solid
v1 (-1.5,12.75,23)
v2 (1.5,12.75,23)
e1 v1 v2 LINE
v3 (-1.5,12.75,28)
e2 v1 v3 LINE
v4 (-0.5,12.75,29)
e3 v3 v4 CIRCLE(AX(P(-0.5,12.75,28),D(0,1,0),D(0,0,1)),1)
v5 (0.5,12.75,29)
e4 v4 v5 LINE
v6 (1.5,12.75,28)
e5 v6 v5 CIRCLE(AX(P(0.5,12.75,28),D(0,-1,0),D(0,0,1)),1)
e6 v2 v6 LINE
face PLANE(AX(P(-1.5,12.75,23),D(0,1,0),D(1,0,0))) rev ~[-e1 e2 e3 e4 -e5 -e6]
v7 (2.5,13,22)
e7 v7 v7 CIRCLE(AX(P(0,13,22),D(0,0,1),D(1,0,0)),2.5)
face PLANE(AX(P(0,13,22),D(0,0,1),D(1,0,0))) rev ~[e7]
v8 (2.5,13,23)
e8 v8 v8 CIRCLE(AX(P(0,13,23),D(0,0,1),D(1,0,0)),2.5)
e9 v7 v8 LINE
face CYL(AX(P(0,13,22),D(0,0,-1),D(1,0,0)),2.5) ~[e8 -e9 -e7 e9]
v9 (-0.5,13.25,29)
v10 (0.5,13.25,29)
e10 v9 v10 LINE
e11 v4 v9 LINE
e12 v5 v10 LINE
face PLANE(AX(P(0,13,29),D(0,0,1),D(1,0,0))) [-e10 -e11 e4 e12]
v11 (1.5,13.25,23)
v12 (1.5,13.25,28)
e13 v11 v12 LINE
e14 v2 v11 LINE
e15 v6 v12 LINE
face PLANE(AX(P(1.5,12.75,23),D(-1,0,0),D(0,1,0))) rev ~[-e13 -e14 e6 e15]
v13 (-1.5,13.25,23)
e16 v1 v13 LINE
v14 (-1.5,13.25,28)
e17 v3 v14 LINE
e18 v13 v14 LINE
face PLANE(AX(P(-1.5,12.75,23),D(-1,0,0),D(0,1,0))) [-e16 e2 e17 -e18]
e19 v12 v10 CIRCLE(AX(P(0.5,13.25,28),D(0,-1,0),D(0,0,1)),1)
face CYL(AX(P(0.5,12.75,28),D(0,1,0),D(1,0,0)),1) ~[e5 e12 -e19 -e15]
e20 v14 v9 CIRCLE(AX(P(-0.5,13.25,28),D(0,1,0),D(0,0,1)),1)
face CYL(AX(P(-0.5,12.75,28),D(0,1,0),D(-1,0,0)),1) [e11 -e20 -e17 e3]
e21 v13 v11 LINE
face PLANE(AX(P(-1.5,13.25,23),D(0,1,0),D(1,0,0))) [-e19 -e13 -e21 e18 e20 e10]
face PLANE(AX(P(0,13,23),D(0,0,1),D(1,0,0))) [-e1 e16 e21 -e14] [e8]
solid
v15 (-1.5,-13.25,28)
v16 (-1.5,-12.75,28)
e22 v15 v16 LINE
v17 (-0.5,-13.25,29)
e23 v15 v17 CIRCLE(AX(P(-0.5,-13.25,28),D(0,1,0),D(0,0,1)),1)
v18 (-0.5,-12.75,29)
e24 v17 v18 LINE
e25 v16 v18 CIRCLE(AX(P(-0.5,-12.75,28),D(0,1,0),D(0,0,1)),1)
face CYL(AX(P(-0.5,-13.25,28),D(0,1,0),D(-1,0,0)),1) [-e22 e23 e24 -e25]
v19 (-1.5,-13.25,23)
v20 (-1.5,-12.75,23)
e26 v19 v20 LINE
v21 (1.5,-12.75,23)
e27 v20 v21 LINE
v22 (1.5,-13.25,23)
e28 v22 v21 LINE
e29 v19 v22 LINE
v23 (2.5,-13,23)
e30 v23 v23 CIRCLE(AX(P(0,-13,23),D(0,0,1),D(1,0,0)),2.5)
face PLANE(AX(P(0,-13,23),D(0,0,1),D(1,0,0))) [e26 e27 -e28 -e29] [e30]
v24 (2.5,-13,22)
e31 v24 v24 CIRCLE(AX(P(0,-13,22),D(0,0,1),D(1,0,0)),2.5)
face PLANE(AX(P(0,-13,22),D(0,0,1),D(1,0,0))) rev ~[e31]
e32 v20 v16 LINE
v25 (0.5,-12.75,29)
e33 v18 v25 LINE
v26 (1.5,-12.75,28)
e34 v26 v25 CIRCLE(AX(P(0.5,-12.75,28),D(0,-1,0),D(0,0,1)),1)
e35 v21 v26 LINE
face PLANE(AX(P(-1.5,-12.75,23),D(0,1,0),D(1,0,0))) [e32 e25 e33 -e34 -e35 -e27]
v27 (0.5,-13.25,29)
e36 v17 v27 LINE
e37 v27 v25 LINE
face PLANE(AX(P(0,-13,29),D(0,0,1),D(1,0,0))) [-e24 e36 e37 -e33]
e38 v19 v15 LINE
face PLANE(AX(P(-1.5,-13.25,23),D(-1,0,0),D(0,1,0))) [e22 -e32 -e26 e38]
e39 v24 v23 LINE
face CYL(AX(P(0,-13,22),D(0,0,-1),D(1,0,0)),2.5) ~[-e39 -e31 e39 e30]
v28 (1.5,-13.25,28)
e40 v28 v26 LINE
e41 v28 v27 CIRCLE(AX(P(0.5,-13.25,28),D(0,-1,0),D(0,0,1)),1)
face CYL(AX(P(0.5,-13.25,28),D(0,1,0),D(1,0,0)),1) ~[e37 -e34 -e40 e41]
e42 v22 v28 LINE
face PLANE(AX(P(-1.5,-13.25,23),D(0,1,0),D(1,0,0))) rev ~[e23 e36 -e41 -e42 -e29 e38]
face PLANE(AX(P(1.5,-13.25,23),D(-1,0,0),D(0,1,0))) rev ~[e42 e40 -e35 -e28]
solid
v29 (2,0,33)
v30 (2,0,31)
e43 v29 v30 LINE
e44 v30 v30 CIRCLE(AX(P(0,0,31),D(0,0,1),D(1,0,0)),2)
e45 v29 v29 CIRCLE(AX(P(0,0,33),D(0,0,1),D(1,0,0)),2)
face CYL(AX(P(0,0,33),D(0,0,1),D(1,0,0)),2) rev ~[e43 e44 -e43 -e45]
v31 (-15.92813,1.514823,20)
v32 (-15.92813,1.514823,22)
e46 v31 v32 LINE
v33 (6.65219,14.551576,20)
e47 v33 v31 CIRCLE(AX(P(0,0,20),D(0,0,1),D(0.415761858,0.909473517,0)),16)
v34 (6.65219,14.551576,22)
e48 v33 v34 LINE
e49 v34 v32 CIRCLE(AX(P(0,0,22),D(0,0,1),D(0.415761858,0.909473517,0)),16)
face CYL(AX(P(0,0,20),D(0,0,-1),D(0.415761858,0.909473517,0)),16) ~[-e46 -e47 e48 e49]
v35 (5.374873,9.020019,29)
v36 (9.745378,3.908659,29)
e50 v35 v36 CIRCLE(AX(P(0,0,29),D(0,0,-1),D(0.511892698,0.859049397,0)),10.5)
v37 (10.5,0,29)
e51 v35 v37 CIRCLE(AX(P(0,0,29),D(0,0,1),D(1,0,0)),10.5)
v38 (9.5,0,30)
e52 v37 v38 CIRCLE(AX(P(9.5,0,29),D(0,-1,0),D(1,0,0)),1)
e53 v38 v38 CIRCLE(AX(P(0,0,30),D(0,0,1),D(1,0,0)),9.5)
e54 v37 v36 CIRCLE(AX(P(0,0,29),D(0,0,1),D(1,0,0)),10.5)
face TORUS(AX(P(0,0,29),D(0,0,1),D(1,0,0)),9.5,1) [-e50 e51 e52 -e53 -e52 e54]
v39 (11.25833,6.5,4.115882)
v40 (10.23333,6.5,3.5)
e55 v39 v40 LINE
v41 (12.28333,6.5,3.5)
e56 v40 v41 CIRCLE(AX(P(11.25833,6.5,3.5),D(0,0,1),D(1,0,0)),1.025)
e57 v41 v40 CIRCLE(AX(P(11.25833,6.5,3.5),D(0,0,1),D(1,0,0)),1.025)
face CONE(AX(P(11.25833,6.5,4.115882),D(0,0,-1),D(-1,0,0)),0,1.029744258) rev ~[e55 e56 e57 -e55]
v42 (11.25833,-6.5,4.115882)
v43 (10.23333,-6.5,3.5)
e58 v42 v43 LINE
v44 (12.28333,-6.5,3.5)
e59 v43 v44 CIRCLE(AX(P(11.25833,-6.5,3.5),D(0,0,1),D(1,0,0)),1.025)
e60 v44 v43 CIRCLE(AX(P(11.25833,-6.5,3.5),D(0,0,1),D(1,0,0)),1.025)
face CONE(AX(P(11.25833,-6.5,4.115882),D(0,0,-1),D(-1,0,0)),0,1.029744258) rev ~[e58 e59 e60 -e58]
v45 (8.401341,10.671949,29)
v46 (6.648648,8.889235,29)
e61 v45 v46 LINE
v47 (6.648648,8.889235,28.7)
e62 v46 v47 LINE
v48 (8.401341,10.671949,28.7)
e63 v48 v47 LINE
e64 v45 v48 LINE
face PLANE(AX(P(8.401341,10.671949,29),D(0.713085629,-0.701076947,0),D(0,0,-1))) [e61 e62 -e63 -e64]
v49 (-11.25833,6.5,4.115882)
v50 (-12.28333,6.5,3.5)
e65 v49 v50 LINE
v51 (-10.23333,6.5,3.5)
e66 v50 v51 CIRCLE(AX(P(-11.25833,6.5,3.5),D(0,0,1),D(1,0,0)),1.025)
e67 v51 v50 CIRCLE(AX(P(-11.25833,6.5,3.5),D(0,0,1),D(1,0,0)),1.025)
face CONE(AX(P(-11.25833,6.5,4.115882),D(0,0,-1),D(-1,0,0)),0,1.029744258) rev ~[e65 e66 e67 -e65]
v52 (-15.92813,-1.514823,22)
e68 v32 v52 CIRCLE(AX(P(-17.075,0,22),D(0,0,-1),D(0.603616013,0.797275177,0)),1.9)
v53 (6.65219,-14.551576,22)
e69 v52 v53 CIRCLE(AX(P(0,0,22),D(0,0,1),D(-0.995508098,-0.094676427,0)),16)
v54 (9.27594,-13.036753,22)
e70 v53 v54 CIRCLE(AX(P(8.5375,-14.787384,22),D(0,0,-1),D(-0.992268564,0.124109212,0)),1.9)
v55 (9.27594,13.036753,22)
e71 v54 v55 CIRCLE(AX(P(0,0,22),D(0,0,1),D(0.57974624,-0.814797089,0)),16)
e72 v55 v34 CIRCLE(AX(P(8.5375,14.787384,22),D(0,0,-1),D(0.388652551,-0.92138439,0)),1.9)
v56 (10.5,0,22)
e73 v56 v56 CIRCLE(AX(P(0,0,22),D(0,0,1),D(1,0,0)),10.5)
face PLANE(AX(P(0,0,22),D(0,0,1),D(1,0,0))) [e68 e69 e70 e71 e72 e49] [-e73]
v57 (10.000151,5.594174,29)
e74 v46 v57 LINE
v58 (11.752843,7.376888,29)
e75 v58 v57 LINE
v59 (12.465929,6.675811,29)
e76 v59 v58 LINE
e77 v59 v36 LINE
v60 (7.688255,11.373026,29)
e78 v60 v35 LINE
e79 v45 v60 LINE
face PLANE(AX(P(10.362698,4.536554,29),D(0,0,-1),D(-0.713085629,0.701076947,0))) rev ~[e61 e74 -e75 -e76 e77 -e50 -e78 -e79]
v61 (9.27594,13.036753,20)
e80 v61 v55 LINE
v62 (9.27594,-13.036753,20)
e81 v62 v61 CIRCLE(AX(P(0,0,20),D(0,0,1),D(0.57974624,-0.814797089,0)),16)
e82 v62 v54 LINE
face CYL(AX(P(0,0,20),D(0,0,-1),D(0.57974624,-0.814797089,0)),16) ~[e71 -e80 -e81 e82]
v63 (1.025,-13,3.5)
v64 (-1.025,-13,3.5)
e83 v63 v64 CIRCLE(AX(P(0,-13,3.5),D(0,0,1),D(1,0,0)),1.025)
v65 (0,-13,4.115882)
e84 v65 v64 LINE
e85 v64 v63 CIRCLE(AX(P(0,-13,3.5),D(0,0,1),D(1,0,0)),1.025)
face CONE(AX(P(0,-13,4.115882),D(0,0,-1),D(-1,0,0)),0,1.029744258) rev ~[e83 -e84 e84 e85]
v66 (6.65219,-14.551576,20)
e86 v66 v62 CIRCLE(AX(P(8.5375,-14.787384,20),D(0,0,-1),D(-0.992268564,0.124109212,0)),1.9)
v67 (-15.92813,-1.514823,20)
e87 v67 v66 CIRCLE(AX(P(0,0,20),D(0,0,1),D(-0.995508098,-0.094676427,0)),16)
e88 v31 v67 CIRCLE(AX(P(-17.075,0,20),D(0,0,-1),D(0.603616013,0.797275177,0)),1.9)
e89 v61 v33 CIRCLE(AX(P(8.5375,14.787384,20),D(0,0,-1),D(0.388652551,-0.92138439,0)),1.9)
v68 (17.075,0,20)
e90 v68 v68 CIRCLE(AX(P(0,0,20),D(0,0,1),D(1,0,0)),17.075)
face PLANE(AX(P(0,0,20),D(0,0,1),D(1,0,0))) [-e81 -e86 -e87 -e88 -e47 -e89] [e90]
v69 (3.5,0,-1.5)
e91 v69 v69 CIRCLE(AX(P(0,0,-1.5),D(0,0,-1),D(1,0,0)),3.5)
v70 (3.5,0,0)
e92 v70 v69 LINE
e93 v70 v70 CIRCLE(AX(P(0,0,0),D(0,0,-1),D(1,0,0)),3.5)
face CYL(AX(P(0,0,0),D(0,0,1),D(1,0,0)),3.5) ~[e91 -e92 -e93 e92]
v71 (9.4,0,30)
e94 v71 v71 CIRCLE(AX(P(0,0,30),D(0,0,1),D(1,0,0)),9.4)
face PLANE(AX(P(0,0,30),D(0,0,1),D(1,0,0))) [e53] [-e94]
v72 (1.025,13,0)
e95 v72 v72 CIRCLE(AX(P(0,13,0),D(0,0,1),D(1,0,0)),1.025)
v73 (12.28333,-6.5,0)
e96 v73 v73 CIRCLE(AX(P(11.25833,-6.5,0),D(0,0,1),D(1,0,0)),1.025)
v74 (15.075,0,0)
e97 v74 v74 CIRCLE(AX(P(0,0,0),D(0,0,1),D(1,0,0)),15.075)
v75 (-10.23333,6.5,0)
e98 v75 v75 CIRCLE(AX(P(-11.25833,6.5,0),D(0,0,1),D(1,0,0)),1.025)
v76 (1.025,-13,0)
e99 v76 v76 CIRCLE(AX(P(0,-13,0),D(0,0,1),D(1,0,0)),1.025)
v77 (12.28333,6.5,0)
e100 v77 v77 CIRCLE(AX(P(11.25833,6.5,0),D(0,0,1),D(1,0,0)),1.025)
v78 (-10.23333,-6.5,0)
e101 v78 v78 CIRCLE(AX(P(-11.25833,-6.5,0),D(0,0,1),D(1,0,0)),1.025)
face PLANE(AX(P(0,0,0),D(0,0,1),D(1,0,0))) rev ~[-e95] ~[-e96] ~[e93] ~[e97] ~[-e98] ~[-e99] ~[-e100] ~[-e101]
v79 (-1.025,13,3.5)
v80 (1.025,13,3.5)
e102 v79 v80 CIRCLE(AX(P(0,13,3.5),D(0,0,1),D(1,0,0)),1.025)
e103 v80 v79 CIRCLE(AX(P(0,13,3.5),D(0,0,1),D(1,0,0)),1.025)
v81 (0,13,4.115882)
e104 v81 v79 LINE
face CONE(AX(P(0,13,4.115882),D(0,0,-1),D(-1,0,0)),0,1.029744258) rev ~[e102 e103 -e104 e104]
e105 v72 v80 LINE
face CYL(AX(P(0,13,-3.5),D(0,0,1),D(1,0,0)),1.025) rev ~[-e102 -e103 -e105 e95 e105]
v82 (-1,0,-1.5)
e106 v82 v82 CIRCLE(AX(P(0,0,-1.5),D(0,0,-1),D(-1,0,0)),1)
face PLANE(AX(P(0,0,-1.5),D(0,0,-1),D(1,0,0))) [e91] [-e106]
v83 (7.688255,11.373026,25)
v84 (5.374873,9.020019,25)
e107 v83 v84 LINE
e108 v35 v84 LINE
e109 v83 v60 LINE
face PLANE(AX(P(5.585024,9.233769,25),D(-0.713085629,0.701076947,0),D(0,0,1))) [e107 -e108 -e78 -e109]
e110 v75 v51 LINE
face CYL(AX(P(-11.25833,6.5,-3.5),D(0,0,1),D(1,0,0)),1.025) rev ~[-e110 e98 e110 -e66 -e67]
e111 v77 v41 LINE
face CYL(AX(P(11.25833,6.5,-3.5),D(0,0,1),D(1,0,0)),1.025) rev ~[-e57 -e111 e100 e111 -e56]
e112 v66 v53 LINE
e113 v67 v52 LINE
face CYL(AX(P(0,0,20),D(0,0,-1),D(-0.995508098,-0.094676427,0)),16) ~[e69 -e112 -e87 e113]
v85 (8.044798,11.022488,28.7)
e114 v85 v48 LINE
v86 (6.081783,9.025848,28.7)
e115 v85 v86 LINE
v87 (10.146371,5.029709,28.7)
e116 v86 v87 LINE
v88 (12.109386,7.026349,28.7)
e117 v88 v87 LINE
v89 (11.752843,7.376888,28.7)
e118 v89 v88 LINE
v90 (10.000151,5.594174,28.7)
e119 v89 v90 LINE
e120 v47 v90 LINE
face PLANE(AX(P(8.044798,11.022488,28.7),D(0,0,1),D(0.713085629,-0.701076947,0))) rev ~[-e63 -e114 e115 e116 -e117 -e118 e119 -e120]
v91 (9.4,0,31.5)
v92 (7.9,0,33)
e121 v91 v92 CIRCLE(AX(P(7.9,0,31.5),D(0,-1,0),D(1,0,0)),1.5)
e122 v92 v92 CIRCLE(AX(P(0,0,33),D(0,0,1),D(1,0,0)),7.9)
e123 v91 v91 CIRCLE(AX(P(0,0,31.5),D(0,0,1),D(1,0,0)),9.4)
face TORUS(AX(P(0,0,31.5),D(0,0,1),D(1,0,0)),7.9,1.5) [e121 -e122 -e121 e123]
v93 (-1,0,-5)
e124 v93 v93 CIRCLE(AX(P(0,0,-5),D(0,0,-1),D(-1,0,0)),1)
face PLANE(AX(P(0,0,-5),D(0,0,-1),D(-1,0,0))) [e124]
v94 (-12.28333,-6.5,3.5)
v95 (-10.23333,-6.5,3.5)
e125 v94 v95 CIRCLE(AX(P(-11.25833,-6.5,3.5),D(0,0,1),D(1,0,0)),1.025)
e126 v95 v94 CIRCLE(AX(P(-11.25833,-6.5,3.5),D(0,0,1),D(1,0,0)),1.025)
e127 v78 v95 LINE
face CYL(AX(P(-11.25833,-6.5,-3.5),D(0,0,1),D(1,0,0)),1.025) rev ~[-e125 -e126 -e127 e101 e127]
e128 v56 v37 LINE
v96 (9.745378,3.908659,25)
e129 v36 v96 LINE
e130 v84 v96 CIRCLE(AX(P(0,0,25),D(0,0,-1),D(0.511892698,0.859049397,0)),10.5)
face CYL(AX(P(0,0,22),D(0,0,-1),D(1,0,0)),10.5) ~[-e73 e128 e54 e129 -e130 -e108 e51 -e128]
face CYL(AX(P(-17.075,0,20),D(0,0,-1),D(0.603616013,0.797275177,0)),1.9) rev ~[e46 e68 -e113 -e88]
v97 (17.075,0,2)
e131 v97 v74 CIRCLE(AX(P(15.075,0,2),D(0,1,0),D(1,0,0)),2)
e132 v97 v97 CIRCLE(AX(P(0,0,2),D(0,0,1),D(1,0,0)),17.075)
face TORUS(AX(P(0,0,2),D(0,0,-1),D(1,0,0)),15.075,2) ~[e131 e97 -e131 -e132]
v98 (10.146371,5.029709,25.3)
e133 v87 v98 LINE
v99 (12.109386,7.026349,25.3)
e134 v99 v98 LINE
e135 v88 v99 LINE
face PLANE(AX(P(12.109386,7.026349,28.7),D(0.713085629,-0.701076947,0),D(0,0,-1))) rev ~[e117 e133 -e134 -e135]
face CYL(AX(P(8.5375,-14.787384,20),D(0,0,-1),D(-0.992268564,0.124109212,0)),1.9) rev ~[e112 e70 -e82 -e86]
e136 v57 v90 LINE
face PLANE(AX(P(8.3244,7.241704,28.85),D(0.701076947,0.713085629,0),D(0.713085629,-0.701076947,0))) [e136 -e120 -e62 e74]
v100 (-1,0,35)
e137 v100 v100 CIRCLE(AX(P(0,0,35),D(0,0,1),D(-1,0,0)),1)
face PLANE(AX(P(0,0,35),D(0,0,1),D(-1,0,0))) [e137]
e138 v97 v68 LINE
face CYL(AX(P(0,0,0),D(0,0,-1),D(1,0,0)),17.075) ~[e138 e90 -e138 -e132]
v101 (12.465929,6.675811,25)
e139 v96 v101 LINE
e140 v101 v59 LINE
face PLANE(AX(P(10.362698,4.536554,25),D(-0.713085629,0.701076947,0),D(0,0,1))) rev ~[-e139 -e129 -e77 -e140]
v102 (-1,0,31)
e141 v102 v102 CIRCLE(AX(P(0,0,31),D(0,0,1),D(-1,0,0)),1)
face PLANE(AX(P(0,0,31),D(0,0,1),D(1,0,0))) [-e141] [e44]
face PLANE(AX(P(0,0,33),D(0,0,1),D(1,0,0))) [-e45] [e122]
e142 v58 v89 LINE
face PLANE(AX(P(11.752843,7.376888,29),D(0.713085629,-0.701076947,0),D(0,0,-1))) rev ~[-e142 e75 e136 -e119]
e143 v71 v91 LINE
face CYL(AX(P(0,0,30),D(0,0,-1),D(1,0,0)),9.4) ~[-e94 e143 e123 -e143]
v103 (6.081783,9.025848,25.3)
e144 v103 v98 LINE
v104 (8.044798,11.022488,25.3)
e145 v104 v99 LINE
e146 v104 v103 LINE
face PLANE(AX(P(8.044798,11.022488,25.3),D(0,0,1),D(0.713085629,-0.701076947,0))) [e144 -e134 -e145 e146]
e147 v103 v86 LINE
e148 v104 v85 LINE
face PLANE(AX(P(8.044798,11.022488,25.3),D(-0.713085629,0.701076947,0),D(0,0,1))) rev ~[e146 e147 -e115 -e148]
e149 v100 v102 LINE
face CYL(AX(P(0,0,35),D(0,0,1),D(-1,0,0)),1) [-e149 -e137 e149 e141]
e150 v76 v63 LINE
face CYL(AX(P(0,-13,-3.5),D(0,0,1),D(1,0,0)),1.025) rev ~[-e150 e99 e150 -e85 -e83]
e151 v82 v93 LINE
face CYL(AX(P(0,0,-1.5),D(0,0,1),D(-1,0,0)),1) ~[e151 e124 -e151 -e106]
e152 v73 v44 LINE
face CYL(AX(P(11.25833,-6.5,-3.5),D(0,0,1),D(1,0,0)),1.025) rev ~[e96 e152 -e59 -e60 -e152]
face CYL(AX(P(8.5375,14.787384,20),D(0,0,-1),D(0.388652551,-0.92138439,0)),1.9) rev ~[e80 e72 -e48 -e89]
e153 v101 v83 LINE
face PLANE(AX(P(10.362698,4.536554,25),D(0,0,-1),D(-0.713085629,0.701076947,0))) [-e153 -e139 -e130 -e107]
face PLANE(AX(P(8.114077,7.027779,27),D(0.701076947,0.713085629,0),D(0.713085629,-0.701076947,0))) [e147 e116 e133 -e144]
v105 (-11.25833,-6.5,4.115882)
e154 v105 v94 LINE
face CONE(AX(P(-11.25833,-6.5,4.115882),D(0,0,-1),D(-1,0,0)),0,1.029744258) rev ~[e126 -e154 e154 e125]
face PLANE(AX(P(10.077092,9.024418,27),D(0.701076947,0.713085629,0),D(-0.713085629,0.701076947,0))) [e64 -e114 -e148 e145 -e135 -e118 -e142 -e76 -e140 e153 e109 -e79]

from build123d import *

# Parameters (mm, degrees)
ESBO_O1_R                                  = 17.075
RESSALTO_EXTRUS_O1_DEPTH                   = 20
ESBO_O4_R                                  = 3.5
RESSALTO_EXTRUS_O4_DEPTH                   = 1.5
ESBO_O14_R                                 = 1
RESSALTO_EXTRUS_O7_DEPTH                   = 3.5
FURO_ROSCADO_DE_M2_5X0_451_D               = 2.05
FURO_ROSCADO_DE_M2_5X0_451_DEPTH           = 3.5
FURO_ROSCADO_DE_M2_5X0_451_TIP             = 0.615882135
FILETE1_R                                  = 2
RESSALTO_EXTRUS_O9_DEPTH                   = 2
ESBO_O18_R                                 = 10.5
RESSALTO_EXTRUS_O10_DEPTH                  = 8
FILETE2_R                                  = 1
ESBO_O19_R                                 = 9.4
RESSALTO_EXTRUS_O11_DEPTH                  = 3
FILETE3_R                                  = 1.5
ESBO_O20_R                                 = 2
CORTE_EXTRUS_O1_DEPTH                      = 2
RESSALTO_EXTRUS_O13_START                  = 4
ESBO_O21_R                                 = 1
RESSALTO_EXTRUS_O13_DEPTH                  = 4
ESBO_O22_R                                 = 2.5
RESSALTO_EXTRUS_O15_DEPTH                  = 1
RESSALTO_EXTRUS_O15_2_DEPTH                = 1
ESBO_O23_W                                 = 3
ESBO_O23_H                                 = 0.5
RESSALTO_EXTRUS_O16_DEPTH                  = 6
FILETE4_R                                  = 1
FILETE5_R                                  = 1
ESBO_O24_W                                 = 6.7
ESBO_O24_H                                 = 4
RESSALTO_EXTRUS_O17_DEPTH                  = 3
RESSALTO_EXTRUS_O17_DIRECTION_2_REACH      = 51.249
RESSALTO_EXTRUS_O17_DIRECTION_2_END_RADIUS = 10.5
ESBO_O25_W                                 = 5.7
ESBO_O25_H                                 = 3
ESBO_O25_H_2                               = 0.2
CORTE_EXTRUS_O2_DEPTH                      = 2.8
ESBO_O26_W                                 = 4.7
ESBO_O26_H                                 = 0.3
CORTE_EXTRUS_O3_DEPTH                      = 2.5


with BuildPart() as part:
    # Esboço1 → Ressalto-extrusão1 (new body)
    with BuildSketch(Plane.XY):
        Circle(ESBO_O1_R)
    extrude(amount=RESSALTO_EXTRUS_O1_DEPTH)

    # Esboço4 → Ressalto-extrusão4 (add)
    with BuildSketch(Plane(origin=(0, 0, 0), x_dir=(-1, 0, 0), z_dir=(0, 0, -1))):
        with Locations(Location((0, 0, 0), (0, 0, 180))):
            Circle(ESBO_O4_R)
    extrude(amount=RESSALTO_EXTRUS_O4_DEPTH)

    # Esboço14 → Ressalto-extrusão7 (add)
    with BuildSketch(Plane(origin=(0, 0, -1.5), x_dir=(-1, 0, 0), z_dir=(0, 0, -1))):
        Circle(ESBO_O14_R)
    extrude(amount=RESSALTO_EXTRUS_O7_DEPTH)

    # Furo roscado de M2.5x0.451
    with Locations(Plane(origin=(0, 0, 0), x_dir=(-1, 0, 0), z_dir=(0, 0, -1))):
        with Locations((11.258330249, -6.5), (0, 13), (-11.258330249, -6.5), (11.258330249, 6.5), (0, -13), (-11.258330249, 6.5)):
            Hole(FURO_ROSCADO_DE_M2_5X0_451_D / 2, depth=FURO_ROSCADO_DE_M2_5X0_451_DEPTH)
            with Locations((0, 0, -(FURO_ROSCADO_DE_M2_5X0_451_DEPTH + FURO_ROSCADO_DE_M2_5X0_451_TIP / 2))):  # 118° drill point
                Cone(0, FURO_ROSCADO_DE_M2_5X0_451_D / 2, FURO_ROSCADO_DE_M2_5X0_451_TIP, mode=Mode.SUBTRACT)

    # Filete1
    filete1_edges = [part.edges().sort_by_distance(p)[0] for p in [
        (-17.075, 0, 0),
    ]]
    fillet(filete1_edges, radius=FILETE1_R)

    # Esboço17 → Ressalto-extrusão9 (add)
    with BuildSketch(Plane.XY.offset(20)):
        with BuildLine():
            ThreePointArc((6.652189728, -14.551576266), (7.5875, -13.141935502), (9.275939847, -13.036753428))
            ThreePointArc((9.275939847, -13.036753428), (16, 0), (9.275939847, 13.036753428))
            ThreePointArc((9.275939847, 13.036753428), (7.5875, 13.141935502), (6.652189728, 14.551576266))
            ThreePointArc((6.652189728, 14.551576266), (-8, 13.856406461), (-15.928129575, 1.514822838))
            ThreePointArc((-15.928129575, 1.514822838), (-15.175, 0), (-15.928129575, -1.514822838))
            ThreePointArc((-15.928129575, -1.514822838), (-8, -13.856406461), (6.652189728, -14.551576266))
        make_face()
    extrude(amount=RESSALTO_EXTRUS_O9_DEPTH)

    # Esboço18 → Ressalto-extrusão10 (add)
    with BuildSketch(Plane.XY.offset(22)):
        Circle(ESBO_O18_R)
    extrude(amount=RESSALTO_EXTRUS_O10_DEPTH)

    # Filete2
    filete2_edges = [part.edges().sort_by_distance(p)[0] for p in [
        (-10.5, 0, 30),
    ]]
    fillet(filete2_edges, radius=FILETE2_R)

    # Esboço19 → Ressalto-extrusão11 (add)
    with BuildSketch(Plane.XY.offset(30)):
        Circle(ESBO_O19_R)
    extrude(amount=RESSALTO_EXTRUS_O11_DEPTH)

    # Filete3
    filete3_edges = [part.edges().sort_by_distance(p)[0] for p in [
        (-9.4, 0, 33),
    ]]
    fillet(filete3_edges, radius=FILETE3_R)

    # Esboço20 → Corte-extrusão1 (cut)
    with BuildSketch(Plane.XY.offset(33)):
        Circle(ESBO_O20_R)
    extrude(amount=-CORTE_EXTRUS_O1_DEPTH, mode=Mode.SUBTRACT)

    # Esboço21 → Ressalto-extrusão13 (add)
    with BuildSketch(Plane.XY.offset(31).offset(RESSALTO_EXTRUS_O13_START)):
        with Locations(Location((0, 0, 0), (0, 0, 180))):
            Circle(ESBO_O21_R)
    extrude(amount=-RESSALTO_EXTRUS_O13_DEPTH)

    # Esboço24 → Ressalto-extrusão17 (add)
    with BuildSketch(Plane(origin=(7.361307949, 7.4873991, 0), x_dir=(-0.7130856285858408, 0.7010769474917403, 0), z_dir=(0.7010769474917403, 0.7130856285858408, 0))):
        with Locations((-0.859017769, 27)):
            Rectangle(ESBO_O24_W, ESBO_O24_H)
    extrude(amount=RESSALTO_EXTRUS_O17_DEPTH)

    # Ressalto-extrusão17 direction 2: up to this cylinder (the profile starts outside it)
    ressalto_extrus_o17_direction_2_end = Plane(origin=(0, 0, 27), z_dir=(0, 0, -1)) * Cylinder(RESSALTO_EXTRUS_O17_DIRECTION_2_END_RADIUS, 124.498, mode=Mode.PRIVATE)
    # Esboço24 → Ressalto-extrusão17 direction 2 (add, up to the surface)
    with BuildSketch(Plane(origin=(7.361307949, 7.4873991, 0), x_dir=(-0.7130856285858408, 0.7010769474917403, 0), z_dir=(0.7010769474917403, 0.7130856285858408, 0)), mode=Mode.PRIVATE) as ressalto_extrus_o17_direction_2_sk1:
        with Locations((-0.859017769, 27)):
            Rectangle(ESBO_O24_W, ESBO_O24_H)
    ressalto_extrus_o17_direction_2_tool1 = extrude(ressalto_extrus_o17_direction_2_sk1.sketch, amount=-RESSALTO_EXTRUS_O17_DIRECTION_2_REACH, mode=Mode.PRIVATE) - ressalto_extrus_o17_direction_2_end
    add(ressalto_extrus_o17_direction_2_tool1.solids().sort_by_distance((7.973861, 6.885162, 27))[0])
    add(ressalto_extrus_o17_direction_2_tool1.solids().sort_by_distance((7.973861, 6.885162, 27))[1])

    # Esboço25 → Corte-extrusão2 (cut)
    with BuildSketch(Plane(origin=(9.464538791, 9.626655986, 0), x_dir=(0.7130856285858407, -0.7010769474917404, 0), z_dir=(0.7010769474917404, 0.7130856285858407, 0))):
        with Locations((0.859017769, -27)):
            Rectangle(ESBO_O25_W, ESBO_O25_H)
        with Locations((0.859017769, -28.6)):
            Rectangle(ESBO_O25_W, ESBO_O25_H_2)
        with Locations((0.859017769, -25.4)):
            Rectangle(ESBO_O25_W, ESBO_O25_H_2)
    extrude(amount=-CORTE_EXTRUS_O2_DEPTH, mode=Mode.SUBTRACT)

    # Esboço26 → Corte-extrusão3 (cut)
    with BuildSketch(Plane(origin=(9.464538791, 9.626655986, 0), x_dir=(0.7130856285858407, -0.7010769474917404, 0), z_dir=(0.7010769474917404, 0.7130856285858407, 0))):
        with Locations((0.859017769, -28.85)):
            Rectangle(ESBO_O26_W, ESBO_O26_H)
    extrude(amount=-CORTE_EXTRUS_O3_DEPTH, mode=Mode.SUBTRACT)


with BuildPart() as body_2:
    # Esboço22 → Ressalto-extrusão15 (new body)
    with BuildSketch(Plane.XY.offset(22)):
        with Locations((0, 13)):
            Circle(ESBO_O22_R)
    extrude(amount=RESSALTO_EXTRUS_O15_DEPTH)



with BuildPart() as body_3:
    # Esboço22 → Ressalto-extrus_o15 2 (new body)
    with BuildSketch(Plane.XY.offset(22)):
        with Locations((0, -13)):
            Circle(ESBO_O22_R)
    extrude(amount=RESSALTO_EXTRUS_O15_2_DEPTH)


with BuildPart() as body_2_1:
    add(body_2.part)

    add(body_3.part)  # Ressalto-extrusão16 merges body 3
    # Esboço23 → Ressalto-extrusão16 (add)
    with BuildSketch(Plane.XY.offset(23)):
        with Locations((0, -13)):
            Rectangle(ESBO_O23_W, ESBO_O23_H)
        with Locations((0, 13)):
            Rectangle(ESBO_O23_W, ESBO_O23_H)
    extrude(amount=RESSALTO_EXTRUS_O16_DEPTH)

    # Filete4
    filete4_edges = [body_2_1.edges().sort_by_distance(p)[0] for p in [
        (-1.5, -13, 29),
        (1.5, -13, 29),
    ]]
    fillet(filete4_edges, radius=FILETE4_R)

    # Filete5
    filete5_edges = [body_2_1.edges().sort_by_distance(p)[0] for p in [
        (-1.5, 13, 29),
        (1.5, 13, 29),
    ]]
    fillet(filete5_edges, radius=FILETE5_R)


solid = Compound([part.part, body_2_1.part])
